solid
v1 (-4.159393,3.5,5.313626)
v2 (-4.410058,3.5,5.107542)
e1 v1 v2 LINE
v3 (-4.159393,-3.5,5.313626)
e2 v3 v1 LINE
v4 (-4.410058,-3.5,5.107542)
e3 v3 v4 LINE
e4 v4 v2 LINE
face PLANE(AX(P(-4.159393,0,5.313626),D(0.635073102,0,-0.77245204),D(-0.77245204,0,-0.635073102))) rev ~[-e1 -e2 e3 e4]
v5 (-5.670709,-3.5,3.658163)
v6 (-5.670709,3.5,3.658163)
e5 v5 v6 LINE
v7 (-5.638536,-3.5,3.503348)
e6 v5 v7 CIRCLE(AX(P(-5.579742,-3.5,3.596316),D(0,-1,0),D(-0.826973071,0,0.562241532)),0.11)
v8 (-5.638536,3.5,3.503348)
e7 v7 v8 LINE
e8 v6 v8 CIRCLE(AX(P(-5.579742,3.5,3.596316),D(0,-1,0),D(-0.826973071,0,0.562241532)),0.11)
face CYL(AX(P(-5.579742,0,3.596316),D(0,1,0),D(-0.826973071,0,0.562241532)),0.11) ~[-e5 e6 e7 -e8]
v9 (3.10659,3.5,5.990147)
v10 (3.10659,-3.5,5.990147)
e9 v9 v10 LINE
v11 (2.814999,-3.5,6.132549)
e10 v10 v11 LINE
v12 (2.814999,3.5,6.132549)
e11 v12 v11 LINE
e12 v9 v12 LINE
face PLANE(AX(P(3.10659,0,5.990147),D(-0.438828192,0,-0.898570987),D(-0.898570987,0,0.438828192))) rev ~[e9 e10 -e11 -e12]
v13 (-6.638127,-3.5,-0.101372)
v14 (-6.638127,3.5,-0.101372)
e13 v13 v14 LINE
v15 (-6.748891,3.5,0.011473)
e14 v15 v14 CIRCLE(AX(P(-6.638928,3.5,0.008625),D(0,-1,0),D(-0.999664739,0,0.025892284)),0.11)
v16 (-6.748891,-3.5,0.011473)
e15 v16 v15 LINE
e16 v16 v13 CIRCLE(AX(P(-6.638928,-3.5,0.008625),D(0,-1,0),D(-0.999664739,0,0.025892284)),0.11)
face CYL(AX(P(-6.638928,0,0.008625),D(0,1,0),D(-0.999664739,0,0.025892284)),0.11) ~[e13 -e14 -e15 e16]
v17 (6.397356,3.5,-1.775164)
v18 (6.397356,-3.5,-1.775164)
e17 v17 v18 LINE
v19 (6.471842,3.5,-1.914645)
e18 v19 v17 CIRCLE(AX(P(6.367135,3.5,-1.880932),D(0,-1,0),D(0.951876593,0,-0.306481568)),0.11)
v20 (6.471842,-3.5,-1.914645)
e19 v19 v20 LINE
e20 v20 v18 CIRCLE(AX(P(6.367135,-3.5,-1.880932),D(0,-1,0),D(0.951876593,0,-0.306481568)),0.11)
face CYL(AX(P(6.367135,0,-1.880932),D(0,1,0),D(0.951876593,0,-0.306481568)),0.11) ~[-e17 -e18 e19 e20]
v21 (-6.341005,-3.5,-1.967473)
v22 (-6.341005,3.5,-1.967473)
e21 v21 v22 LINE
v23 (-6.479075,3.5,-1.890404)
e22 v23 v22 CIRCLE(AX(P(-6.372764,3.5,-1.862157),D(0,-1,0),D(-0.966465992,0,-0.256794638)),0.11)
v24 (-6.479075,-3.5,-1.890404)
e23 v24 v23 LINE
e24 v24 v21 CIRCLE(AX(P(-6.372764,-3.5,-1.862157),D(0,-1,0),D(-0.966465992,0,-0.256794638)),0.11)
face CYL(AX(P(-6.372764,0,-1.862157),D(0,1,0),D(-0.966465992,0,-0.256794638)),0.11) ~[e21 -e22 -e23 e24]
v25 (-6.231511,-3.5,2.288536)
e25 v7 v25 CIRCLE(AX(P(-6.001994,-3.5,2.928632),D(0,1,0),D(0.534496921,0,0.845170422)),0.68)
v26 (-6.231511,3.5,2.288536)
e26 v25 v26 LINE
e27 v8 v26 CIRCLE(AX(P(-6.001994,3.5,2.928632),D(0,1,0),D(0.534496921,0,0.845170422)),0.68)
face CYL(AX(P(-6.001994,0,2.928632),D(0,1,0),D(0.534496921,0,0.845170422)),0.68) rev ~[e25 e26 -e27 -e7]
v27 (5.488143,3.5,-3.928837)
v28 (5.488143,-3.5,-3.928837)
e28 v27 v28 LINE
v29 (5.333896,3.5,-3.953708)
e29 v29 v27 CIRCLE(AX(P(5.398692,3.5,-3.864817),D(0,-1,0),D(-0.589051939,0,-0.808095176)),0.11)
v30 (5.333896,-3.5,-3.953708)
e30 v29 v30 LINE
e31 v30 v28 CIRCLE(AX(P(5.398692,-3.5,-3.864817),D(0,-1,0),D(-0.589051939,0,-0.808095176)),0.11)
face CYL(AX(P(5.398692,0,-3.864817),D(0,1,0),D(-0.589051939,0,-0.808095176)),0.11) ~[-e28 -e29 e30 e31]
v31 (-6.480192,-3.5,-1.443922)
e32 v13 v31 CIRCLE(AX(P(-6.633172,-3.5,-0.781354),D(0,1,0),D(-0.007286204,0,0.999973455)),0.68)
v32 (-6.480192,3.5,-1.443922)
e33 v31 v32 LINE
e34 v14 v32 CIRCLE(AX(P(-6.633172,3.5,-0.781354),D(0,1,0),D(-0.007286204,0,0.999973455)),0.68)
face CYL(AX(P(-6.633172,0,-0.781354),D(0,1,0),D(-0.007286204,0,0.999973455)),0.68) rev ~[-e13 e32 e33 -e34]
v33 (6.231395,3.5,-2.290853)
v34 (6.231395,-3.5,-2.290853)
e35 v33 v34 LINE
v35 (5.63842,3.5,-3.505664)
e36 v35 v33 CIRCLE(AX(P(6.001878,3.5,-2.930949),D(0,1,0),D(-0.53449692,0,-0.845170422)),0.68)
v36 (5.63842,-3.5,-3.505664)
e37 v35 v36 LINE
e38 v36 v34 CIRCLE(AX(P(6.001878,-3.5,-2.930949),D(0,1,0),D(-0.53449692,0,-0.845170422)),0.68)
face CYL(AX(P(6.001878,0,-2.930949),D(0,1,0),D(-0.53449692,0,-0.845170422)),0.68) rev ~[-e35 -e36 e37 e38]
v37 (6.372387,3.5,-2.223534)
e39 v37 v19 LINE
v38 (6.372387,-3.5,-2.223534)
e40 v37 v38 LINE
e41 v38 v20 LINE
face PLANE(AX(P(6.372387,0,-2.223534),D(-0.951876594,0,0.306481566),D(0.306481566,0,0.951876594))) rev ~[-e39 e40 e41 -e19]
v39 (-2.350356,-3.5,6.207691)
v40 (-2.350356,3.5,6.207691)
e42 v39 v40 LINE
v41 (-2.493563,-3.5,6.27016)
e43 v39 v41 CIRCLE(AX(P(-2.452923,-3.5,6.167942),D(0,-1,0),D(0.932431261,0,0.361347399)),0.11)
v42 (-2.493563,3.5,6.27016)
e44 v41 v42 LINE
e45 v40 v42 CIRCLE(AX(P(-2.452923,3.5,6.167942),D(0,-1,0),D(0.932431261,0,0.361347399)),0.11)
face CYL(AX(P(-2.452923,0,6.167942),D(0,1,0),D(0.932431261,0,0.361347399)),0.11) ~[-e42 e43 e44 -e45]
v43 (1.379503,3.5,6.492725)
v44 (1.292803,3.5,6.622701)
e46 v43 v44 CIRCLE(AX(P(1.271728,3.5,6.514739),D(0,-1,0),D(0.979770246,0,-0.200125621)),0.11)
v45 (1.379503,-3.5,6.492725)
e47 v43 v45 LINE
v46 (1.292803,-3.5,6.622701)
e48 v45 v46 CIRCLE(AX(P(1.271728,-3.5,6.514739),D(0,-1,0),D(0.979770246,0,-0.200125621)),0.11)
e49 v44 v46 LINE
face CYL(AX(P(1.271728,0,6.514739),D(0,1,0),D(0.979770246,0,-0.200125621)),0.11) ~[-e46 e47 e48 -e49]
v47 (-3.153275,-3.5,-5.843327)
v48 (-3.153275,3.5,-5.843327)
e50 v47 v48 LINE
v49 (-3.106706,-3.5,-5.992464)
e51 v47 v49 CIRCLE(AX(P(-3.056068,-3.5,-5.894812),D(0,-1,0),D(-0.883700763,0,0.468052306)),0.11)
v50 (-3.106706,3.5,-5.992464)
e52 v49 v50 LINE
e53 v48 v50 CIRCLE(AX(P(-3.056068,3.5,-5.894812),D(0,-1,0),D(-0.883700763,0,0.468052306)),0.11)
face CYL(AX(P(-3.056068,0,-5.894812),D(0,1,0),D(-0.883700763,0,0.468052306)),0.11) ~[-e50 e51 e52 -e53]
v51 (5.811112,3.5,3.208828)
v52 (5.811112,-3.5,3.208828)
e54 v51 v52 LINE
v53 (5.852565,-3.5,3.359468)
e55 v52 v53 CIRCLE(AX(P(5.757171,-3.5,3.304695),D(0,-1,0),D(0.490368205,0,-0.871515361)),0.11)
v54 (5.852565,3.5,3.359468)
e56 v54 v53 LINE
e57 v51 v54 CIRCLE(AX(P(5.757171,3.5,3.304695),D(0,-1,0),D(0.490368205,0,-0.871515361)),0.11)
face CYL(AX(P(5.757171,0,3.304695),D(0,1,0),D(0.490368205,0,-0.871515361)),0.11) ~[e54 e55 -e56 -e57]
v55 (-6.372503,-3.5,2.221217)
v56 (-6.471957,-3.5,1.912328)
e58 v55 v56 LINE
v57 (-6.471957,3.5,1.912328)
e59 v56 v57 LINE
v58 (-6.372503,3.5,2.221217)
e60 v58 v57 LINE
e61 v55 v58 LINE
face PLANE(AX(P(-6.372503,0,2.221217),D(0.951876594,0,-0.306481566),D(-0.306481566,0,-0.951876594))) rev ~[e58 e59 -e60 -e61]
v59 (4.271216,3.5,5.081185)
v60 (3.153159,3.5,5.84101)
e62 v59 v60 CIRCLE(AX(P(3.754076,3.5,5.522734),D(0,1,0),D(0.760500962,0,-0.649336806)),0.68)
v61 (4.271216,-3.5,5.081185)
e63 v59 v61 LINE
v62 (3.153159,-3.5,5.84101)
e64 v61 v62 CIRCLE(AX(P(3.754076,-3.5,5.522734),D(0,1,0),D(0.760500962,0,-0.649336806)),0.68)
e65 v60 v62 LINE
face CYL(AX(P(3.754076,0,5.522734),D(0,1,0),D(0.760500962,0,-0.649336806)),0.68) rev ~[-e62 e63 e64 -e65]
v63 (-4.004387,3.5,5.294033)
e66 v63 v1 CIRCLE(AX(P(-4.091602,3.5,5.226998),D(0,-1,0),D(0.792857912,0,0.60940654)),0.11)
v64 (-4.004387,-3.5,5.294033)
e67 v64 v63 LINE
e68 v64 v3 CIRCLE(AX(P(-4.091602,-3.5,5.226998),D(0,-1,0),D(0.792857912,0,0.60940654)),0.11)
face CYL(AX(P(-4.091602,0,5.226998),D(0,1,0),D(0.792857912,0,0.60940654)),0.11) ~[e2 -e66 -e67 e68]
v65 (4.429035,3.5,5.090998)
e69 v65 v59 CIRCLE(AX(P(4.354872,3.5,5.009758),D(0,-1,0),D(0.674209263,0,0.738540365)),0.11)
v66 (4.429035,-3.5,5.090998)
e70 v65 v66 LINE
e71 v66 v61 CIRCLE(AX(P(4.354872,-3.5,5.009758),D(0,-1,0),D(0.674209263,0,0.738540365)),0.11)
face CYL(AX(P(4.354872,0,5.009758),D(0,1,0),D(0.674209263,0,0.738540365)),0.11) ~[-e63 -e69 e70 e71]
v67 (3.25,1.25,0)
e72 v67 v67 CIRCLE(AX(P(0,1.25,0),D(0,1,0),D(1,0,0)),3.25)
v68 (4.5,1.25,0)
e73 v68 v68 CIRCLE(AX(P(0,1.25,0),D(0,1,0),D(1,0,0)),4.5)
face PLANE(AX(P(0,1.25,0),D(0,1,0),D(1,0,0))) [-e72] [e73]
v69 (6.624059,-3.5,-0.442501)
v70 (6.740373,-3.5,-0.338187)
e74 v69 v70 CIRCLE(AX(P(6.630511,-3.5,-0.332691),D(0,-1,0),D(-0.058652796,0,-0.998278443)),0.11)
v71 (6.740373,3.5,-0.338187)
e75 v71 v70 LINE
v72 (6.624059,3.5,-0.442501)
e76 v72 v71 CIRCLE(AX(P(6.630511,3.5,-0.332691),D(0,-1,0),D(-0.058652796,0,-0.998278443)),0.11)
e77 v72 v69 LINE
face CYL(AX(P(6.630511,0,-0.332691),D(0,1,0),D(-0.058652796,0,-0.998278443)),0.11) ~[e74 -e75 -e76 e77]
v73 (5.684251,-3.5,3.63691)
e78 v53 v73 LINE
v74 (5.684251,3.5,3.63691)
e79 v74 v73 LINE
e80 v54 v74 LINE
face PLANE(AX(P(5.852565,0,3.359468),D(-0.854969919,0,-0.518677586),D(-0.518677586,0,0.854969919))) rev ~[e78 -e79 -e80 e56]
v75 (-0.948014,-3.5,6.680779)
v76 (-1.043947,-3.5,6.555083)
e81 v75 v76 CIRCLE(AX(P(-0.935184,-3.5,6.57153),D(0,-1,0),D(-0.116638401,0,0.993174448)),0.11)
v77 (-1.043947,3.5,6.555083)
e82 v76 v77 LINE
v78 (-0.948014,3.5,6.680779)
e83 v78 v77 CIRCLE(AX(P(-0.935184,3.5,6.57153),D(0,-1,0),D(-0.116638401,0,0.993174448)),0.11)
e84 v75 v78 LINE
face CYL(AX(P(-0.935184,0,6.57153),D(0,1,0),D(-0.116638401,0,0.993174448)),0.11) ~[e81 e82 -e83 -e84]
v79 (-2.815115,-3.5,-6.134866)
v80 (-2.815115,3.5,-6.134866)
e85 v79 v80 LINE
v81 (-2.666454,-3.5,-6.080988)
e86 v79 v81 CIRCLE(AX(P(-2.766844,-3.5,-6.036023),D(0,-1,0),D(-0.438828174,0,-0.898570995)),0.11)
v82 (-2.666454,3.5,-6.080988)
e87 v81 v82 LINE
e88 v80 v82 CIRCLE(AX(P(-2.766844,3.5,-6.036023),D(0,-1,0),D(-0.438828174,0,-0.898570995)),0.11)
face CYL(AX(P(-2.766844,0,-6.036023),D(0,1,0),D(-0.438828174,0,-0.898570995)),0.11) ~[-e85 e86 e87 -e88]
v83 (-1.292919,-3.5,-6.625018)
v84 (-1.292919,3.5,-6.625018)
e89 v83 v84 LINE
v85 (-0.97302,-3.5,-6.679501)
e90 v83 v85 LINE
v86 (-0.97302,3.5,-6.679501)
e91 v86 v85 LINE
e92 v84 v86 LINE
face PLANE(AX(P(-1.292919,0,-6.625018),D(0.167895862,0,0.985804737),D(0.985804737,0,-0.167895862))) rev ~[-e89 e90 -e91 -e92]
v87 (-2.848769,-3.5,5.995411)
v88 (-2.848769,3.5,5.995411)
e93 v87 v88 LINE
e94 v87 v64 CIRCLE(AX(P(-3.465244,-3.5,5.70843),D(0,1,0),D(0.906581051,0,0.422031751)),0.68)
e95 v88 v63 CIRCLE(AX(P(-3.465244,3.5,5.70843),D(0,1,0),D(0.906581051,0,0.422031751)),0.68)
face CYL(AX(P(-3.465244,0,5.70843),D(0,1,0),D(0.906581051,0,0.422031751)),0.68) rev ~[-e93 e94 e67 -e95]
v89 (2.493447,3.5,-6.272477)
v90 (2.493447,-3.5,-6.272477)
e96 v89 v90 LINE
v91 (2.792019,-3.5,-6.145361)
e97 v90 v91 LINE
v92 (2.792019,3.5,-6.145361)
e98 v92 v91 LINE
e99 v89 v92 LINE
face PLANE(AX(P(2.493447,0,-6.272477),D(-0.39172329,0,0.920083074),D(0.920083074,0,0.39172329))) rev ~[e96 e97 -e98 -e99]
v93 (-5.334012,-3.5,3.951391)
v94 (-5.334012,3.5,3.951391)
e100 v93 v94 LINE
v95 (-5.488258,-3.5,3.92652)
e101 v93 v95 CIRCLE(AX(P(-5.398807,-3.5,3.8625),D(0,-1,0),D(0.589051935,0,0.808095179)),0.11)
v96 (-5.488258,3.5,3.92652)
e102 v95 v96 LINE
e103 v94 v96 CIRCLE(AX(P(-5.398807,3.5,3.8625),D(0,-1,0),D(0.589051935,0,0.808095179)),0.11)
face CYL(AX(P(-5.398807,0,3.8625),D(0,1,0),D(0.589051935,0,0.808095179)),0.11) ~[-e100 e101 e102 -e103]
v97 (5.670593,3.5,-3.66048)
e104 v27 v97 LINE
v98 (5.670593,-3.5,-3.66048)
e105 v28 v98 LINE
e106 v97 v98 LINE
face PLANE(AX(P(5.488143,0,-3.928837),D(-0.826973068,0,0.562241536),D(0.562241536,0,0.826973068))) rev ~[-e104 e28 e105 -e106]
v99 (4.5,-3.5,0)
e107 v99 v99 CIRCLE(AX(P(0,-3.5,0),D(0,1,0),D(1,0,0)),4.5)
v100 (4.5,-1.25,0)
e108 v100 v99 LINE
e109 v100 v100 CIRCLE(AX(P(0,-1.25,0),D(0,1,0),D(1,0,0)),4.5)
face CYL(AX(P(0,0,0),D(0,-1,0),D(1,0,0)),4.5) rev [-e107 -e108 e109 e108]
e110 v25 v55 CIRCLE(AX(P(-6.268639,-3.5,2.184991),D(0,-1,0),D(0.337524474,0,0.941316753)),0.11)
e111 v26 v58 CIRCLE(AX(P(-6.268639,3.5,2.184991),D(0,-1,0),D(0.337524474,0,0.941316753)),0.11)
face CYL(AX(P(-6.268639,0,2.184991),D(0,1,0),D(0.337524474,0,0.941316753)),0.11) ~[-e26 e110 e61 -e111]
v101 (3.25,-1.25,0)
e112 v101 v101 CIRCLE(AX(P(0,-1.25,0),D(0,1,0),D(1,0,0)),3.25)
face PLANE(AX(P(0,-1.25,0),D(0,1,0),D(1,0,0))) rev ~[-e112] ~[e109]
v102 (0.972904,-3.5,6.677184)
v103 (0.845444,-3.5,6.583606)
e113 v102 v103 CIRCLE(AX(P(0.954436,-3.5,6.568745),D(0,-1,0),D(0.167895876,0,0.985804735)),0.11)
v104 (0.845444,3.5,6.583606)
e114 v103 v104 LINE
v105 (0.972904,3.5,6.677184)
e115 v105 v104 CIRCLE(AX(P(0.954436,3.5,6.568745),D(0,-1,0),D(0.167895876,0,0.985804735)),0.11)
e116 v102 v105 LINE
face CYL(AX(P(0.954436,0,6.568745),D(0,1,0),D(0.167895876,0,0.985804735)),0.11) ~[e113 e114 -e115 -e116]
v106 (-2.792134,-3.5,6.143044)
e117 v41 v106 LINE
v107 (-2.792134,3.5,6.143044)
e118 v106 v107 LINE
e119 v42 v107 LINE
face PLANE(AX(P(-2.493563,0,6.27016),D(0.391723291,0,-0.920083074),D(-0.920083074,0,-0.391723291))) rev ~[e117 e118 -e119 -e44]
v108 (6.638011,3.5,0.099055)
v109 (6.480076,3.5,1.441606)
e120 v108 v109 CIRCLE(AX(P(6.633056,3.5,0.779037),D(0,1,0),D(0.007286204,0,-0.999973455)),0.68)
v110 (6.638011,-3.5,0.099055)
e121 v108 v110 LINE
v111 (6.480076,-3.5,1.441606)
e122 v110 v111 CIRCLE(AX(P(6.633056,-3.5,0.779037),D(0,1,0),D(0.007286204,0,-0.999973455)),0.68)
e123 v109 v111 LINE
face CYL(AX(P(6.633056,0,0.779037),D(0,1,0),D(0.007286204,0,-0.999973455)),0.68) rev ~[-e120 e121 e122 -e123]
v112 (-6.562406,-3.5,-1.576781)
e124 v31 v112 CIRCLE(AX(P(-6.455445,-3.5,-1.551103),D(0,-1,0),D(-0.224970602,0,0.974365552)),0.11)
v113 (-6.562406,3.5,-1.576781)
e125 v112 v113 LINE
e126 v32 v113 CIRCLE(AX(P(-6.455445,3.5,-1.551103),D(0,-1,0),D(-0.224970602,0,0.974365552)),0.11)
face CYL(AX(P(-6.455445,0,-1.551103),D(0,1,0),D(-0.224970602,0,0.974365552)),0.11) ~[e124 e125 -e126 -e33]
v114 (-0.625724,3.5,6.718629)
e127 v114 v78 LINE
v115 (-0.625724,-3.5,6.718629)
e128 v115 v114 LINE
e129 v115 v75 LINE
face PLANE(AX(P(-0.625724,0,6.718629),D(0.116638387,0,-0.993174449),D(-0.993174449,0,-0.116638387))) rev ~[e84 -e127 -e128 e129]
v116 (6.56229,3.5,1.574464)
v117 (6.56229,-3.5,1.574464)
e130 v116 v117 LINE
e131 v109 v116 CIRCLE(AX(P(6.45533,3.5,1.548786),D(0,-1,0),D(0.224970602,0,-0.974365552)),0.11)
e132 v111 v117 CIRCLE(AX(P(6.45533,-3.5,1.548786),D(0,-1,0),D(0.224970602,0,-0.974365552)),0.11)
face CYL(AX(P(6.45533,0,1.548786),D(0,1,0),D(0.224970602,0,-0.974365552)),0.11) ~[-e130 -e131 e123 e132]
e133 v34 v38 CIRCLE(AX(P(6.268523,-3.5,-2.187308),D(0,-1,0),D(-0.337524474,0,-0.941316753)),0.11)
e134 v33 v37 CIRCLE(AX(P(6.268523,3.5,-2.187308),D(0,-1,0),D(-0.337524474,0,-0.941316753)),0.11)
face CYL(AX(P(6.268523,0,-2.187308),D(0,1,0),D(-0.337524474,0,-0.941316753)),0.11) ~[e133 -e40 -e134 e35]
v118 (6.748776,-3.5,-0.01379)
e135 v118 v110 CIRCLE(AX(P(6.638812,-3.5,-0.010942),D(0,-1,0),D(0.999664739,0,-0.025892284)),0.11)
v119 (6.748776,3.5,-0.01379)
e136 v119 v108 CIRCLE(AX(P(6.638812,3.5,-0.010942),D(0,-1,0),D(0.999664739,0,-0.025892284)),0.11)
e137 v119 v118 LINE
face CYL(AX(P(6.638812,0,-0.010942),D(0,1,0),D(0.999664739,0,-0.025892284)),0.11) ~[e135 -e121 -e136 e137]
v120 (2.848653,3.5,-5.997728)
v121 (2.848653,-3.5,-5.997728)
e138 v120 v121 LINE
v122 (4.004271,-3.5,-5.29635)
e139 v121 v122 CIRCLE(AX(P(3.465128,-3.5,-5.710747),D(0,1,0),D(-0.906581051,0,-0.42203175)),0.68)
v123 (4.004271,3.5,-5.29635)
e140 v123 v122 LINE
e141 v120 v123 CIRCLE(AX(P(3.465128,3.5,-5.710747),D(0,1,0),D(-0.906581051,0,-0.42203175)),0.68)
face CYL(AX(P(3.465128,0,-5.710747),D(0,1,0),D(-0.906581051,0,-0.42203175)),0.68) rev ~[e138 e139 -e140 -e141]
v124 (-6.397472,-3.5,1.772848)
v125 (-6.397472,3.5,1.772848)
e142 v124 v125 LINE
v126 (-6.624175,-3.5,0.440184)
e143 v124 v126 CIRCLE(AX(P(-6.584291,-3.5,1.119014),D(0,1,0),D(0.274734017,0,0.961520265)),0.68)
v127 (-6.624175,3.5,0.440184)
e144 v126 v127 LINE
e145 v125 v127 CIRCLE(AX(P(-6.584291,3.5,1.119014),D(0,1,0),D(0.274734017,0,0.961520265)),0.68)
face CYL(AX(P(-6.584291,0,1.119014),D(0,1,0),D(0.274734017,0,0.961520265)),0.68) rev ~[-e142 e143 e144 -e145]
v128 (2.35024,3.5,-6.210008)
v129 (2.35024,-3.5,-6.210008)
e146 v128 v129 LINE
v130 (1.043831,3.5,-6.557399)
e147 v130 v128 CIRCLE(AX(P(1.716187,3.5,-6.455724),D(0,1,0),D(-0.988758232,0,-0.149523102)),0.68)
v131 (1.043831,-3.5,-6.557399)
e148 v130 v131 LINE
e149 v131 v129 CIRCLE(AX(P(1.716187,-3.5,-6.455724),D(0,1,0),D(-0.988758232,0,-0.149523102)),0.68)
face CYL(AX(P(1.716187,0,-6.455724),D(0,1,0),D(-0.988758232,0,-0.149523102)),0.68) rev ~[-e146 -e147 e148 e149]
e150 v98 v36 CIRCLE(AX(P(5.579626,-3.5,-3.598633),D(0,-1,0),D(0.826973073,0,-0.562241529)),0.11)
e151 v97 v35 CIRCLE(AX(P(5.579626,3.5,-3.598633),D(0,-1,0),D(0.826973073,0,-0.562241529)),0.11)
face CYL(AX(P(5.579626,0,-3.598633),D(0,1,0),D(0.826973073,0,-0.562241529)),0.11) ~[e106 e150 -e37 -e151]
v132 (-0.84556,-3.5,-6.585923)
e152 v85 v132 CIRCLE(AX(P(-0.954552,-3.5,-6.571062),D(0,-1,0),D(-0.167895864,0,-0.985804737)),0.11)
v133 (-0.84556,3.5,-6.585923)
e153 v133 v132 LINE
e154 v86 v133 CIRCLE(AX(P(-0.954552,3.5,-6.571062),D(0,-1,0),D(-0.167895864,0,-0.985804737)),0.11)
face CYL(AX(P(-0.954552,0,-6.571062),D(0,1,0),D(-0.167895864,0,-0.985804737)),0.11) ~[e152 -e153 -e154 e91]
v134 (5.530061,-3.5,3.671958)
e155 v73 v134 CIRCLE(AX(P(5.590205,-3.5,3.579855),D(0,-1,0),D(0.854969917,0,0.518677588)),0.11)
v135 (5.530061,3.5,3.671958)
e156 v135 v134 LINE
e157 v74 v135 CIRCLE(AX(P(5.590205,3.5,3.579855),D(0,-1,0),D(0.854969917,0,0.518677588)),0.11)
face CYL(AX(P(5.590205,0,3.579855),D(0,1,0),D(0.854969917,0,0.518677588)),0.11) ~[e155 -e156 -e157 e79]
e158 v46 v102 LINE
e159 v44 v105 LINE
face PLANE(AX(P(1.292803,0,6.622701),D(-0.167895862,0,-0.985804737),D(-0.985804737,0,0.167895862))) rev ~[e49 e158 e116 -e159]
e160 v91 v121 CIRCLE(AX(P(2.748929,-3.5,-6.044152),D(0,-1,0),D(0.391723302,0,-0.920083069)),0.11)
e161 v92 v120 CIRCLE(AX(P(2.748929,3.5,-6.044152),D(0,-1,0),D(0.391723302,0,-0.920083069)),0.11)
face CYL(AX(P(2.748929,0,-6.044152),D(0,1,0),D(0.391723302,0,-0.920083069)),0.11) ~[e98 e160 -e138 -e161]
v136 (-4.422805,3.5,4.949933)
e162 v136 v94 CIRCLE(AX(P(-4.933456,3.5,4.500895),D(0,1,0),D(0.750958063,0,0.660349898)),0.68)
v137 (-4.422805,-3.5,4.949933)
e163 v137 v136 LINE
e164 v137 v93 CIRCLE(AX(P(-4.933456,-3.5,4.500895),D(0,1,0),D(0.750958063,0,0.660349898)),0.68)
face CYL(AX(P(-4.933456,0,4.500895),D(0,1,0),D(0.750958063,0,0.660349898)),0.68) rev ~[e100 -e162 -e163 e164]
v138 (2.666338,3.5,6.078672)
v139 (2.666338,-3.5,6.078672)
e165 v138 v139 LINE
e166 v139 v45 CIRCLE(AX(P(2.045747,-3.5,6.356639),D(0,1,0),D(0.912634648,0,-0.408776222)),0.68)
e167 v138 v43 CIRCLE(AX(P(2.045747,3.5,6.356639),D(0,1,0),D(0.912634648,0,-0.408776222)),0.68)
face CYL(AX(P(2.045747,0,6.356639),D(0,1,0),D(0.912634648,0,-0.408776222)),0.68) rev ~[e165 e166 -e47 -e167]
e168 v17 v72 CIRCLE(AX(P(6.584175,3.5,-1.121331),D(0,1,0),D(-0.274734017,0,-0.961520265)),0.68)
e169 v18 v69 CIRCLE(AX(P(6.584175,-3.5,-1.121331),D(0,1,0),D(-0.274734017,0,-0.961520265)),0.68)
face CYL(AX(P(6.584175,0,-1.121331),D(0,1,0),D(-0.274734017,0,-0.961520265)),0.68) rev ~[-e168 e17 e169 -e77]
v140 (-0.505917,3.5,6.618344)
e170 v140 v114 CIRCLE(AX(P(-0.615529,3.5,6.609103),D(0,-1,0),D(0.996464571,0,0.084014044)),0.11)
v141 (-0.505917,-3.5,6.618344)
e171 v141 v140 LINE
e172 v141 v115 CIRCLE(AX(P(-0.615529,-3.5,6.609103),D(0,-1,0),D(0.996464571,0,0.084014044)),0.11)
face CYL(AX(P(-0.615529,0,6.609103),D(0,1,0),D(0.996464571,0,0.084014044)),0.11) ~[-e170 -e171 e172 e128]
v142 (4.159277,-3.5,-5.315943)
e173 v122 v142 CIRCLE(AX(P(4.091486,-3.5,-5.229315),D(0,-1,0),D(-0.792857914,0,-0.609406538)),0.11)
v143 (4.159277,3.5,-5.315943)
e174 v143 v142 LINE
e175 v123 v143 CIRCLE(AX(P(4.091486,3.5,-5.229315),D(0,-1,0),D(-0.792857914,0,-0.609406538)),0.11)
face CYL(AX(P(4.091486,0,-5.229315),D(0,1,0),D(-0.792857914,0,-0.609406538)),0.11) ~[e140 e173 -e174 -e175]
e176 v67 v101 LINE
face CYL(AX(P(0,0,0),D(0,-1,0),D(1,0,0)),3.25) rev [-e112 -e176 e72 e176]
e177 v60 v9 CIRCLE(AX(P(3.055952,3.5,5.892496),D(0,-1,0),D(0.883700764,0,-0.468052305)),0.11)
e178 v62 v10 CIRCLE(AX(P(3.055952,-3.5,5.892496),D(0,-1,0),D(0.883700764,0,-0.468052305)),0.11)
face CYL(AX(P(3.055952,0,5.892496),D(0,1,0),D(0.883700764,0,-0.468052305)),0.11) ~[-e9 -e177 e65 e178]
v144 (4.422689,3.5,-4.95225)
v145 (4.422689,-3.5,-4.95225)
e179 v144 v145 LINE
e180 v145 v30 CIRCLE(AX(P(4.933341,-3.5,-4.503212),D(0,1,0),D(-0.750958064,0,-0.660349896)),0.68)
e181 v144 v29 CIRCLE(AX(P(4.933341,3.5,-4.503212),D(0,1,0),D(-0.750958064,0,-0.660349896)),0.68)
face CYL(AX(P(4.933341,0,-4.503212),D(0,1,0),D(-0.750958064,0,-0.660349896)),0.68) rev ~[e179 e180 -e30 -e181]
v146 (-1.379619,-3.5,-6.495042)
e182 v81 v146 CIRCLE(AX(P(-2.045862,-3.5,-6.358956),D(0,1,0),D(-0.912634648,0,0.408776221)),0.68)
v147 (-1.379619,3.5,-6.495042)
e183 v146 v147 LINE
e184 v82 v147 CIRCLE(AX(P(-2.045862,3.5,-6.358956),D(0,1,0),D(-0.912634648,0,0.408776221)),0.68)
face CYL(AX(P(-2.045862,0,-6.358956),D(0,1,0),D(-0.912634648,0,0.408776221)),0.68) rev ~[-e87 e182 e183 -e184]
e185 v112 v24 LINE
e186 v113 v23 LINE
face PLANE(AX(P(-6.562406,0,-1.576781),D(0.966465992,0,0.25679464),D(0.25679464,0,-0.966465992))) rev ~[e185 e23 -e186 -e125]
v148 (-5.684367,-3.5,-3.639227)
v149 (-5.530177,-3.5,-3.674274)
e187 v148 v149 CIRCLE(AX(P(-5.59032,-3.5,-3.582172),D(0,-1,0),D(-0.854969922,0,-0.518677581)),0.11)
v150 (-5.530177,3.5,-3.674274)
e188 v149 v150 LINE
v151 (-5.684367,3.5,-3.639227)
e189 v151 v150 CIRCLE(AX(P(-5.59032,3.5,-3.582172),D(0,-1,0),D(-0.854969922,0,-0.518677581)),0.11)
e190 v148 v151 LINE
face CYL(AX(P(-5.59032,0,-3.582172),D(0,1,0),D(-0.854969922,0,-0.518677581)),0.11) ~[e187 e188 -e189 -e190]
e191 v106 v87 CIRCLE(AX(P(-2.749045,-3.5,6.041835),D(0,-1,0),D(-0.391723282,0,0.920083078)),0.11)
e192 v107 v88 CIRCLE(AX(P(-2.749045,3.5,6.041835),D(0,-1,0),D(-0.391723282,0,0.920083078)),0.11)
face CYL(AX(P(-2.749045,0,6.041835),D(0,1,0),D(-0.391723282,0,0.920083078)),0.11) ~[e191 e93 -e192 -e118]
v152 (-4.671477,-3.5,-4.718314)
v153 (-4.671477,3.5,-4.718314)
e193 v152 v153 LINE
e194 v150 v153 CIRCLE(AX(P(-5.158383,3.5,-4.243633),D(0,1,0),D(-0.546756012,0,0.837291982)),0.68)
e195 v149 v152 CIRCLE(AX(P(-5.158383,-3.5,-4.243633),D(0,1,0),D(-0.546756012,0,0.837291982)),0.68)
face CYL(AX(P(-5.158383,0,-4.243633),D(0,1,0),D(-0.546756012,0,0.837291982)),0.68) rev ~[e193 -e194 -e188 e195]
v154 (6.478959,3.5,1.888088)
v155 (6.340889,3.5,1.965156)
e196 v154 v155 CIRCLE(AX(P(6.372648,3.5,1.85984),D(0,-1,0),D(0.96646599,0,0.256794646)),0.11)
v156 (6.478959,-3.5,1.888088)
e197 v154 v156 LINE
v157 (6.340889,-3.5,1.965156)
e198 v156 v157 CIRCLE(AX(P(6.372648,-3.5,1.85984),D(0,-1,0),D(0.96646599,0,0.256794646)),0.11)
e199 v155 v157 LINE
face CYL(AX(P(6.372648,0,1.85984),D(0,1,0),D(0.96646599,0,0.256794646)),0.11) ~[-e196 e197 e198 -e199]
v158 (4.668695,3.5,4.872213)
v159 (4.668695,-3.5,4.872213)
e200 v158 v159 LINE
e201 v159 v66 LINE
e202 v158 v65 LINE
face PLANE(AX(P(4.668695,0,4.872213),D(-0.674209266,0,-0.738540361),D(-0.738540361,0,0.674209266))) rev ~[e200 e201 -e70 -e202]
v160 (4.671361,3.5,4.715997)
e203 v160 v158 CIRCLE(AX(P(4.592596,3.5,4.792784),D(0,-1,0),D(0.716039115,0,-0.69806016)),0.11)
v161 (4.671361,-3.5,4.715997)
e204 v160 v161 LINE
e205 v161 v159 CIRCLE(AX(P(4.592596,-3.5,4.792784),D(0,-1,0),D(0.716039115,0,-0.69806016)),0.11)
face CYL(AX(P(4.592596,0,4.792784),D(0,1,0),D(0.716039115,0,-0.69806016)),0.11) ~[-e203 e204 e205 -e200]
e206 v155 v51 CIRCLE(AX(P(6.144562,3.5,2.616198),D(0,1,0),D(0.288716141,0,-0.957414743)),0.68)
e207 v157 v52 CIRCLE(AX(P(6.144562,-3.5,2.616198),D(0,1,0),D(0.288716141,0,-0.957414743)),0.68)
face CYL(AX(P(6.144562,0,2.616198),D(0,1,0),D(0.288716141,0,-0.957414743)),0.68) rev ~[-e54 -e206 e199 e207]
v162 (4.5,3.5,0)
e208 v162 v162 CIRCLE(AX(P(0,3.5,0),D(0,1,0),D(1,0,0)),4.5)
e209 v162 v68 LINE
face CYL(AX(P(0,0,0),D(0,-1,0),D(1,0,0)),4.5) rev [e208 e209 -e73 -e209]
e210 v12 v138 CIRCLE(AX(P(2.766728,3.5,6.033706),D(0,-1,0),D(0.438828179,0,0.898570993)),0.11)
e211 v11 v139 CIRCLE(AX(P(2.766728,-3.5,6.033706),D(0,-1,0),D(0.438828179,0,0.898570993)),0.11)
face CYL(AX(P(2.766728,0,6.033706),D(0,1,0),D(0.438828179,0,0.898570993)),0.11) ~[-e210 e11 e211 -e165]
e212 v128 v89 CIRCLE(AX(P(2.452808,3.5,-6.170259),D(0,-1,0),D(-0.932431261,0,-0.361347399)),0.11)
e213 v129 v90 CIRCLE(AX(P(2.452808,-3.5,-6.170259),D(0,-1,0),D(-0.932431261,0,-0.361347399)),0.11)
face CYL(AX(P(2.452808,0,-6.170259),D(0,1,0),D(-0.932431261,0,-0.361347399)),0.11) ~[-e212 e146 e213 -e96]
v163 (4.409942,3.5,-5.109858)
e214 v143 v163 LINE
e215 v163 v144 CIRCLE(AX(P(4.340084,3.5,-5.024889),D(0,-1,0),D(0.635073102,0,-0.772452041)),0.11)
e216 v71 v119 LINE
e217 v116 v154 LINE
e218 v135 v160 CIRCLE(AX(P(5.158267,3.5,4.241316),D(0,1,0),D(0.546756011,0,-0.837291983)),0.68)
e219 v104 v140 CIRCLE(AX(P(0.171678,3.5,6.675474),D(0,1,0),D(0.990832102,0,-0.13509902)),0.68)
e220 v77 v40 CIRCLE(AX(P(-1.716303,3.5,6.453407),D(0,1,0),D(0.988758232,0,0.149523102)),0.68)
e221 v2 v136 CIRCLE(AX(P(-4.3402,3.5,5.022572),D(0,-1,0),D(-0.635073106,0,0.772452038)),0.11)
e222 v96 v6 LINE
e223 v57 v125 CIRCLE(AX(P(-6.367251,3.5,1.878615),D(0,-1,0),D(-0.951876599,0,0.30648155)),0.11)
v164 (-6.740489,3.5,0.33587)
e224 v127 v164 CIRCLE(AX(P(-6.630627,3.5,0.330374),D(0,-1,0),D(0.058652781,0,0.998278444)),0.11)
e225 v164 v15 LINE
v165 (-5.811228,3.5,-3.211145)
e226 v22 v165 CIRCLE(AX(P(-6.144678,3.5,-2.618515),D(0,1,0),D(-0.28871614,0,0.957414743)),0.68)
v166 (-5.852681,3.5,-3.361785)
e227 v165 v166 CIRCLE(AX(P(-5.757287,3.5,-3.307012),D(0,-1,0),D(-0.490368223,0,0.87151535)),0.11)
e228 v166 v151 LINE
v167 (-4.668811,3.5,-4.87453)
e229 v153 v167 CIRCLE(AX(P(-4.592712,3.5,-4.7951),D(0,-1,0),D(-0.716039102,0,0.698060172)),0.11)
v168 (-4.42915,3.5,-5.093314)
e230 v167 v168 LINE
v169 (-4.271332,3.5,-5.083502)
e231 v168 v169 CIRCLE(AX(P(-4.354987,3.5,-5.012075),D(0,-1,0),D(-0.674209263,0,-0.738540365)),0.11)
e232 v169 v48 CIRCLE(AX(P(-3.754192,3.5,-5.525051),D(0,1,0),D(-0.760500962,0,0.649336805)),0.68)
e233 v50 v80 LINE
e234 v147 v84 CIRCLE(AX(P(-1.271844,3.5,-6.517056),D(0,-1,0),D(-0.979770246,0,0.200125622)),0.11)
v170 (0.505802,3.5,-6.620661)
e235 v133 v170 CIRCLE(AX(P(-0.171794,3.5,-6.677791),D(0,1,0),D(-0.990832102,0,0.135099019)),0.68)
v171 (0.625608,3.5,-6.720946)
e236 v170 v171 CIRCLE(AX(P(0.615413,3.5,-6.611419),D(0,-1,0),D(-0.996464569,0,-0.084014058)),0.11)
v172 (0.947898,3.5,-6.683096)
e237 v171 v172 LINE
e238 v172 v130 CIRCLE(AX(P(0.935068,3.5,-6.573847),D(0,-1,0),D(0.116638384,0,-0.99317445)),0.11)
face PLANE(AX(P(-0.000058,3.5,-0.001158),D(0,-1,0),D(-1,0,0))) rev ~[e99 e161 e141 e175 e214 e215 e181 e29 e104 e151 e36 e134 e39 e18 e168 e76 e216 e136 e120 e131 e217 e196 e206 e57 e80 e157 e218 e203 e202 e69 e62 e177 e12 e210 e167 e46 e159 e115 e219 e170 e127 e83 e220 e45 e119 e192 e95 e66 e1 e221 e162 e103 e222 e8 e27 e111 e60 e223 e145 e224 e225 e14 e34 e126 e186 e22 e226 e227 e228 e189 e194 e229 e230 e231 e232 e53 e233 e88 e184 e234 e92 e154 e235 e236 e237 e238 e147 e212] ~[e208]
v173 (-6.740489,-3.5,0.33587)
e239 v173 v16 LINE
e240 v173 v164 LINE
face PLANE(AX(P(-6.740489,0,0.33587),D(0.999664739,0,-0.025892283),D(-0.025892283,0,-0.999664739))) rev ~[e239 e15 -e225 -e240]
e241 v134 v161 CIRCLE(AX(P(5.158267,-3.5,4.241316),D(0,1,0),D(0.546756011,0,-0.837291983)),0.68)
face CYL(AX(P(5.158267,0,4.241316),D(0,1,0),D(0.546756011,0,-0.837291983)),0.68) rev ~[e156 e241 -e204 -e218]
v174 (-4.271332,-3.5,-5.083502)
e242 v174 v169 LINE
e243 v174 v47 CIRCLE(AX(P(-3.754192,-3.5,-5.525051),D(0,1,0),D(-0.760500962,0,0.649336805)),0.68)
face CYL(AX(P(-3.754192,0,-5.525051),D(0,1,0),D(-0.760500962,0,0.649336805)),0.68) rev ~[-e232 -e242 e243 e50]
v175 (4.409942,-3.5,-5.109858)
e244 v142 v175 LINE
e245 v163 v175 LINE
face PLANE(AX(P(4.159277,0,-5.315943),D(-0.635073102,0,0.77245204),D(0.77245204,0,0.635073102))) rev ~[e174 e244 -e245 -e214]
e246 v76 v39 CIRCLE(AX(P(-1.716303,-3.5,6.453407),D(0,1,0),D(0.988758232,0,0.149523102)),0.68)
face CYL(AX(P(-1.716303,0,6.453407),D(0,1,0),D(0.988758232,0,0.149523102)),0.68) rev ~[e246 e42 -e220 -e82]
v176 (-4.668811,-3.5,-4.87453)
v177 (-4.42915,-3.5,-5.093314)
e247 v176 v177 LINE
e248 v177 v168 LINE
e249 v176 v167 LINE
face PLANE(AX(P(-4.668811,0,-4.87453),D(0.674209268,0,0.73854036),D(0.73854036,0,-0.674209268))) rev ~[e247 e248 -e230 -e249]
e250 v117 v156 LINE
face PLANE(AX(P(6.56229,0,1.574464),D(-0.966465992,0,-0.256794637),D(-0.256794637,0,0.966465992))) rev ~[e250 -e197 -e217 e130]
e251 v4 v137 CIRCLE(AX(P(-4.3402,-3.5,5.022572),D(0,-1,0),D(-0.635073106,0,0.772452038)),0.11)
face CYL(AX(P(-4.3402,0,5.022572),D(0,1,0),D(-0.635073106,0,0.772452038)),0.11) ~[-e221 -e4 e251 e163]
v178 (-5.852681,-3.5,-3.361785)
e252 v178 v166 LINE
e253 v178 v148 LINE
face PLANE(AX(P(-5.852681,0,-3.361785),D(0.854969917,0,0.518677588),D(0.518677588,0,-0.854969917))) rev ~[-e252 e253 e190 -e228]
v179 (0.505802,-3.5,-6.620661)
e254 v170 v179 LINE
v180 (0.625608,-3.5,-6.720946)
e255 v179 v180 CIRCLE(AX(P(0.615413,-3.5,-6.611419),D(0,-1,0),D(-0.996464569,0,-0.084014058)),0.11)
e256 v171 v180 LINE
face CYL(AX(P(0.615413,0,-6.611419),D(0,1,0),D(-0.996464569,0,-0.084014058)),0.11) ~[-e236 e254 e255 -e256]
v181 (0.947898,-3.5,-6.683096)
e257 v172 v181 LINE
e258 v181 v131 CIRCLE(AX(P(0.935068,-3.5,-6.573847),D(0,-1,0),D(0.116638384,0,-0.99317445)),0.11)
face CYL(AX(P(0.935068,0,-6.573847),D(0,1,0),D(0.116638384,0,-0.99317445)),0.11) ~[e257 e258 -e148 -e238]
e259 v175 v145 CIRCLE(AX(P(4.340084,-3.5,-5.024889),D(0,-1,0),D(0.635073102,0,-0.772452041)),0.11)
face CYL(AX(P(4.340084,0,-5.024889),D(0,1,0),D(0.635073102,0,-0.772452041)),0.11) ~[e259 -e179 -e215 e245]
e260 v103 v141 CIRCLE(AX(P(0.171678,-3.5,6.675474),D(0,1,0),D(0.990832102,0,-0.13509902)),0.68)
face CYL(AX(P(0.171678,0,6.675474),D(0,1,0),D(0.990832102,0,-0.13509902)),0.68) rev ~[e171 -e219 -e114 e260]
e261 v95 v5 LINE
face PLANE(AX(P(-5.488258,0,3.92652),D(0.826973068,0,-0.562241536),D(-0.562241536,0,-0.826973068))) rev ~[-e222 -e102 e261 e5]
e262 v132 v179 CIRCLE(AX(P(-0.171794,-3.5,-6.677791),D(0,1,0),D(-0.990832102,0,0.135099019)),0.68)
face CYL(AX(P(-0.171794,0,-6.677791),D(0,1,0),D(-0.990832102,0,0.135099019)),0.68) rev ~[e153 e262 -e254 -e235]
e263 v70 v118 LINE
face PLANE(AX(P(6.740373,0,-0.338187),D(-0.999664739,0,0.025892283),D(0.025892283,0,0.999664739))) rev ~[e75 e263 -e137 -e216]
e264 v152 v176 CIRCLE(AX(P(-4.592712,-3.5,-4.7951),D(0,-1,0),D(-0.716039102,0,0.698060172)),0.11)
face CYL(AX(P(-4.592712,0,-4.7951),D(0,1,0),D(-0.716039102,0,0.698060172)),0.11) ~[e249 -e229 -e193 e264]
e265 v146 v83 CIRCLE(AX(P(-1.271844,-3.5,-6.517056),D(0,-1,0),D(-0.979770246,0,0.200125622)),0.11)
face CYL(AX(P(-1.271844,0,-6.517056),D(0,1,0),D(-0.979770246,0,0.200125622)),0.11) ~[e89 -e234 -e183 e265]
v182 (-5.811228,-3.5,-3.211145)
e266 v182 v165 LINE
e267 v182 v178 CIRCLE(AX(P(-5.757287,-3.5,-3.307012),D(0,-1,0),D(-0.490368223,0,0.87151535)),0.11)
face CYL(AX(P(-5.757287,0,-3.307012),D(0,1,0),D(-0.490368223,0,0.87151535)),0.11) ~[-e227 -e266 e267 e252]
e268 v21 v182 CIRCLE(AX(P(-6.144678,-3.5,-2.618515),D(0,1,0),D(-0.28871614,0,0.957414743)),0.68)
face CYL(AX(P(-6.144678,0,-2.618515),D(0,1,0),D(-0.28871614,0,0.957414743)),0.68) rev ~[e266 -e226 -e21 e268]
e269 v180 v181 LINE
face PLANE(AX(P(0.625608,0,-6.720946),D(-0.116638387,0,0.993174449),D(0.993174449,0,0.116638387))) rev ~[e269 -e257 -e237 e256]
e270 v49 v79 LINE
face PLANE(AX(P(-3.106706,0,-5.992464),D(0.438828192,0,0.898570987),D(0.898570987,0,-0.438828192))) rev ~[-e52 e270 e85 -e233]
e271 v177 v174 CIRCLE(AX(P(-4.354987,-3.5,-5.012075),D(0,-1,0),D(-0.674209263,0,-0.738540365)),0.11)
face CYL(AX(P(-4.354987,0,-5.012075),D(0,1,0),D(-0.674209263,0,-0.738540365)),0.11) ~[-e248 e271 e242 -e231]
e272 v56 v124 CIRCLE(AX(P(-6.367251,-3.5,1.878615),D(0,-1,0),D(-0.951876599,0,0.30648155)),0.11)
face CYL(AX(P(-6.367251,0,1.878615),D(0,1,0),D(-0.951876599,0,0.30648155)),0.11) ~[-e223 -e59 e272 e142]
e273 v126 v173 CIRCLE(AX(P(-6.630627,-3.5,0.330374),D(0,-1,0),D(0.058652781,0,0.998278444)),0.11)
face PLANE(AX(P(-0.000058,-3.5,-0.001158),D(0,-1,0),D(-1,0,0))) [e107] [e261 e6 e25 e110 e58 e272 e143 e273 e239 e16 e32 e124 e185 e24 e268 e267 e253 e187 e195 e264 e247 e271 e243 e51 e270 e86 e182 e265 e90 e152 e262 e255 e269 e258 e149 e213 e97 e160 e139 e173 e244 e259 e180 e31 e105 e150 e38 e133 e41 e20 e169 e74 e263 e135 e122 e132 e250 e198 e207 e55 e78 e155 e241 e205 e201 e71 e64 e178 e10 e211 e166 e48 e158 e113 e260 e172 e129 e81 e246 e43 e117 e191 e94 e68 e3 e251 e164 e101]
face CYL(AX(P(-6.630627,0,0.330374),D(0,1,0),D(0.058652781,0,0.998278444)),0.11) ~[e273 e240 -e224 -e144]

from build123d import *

# Parameters (mm, degrees)
SKETCH2_R           = 4.5
BOSS_EXTRUDE1_DEPTH = 3.5
SKETCH2_3_R         = 4.5
SKETCH2_3_R_2       = 3.25
BOSS_EXTRUDE2_DEPTH = 1.25


with BuildPart() as part:
    # Sketch2 → Boss-Extrude1 (new, symmetric)
    with BuildSketch(Plane(origin=(0, 0, 0), x_dir=(1, 0, 0), z_dir=(0, 1, 0))):
        with BuildLine():
            Line((-0.973020228, 6.679500852), (-1.292919007, 6.625017769))
            ThreePointArc((-1.292919007, 6.625017769), (-1.363353555, 6.578096432), (-1.379618663, 6.495041729))
            ThreePointArc((-1.379618663, 6.495041729), (-1.837581239, 5.71163958), (-2.666453991, 6.080988477))
            ThreePointArc((-2.666453991, 6.080988477), (-2.729363352, 6.139440769), (-2.815114904, 6.134865902))
            Line((-2.815114904, 6.134865902), (-3.106705876, 5.992463865))
            ThreePointArc((-3.106705876, 5.992463865), (-3.161068061, 5.927599467), (-3.153275104, 5.843326652))
            ThreePointArc((-3.153275104, 5.843326652), (-3.371977088, 4.962634828), (-4.271332279, 5.083502059))
            ThreePointArc((-4.271332279, 5.083502059), (-4.348161282, 5.121863008), (-4.429150404, 5.093314451))
            Line((-4.429150404, 5.093314451), (-4.668810603, 4.874530027))
            ThreePointArc((-4.668810603, 4.874530027), (-4.702696325, 4.796977495), (-4.671476642, 4.718313851))
            ThreePointArc((-4.671476642, 4.718313851), (-4.633200099, 3.811680765), (-5.53017732, 3.674274387))
            ThreePointArc((-5.53017732, 3.674274387), (-5.614701737, 3.689436216), (-5.684367172, 3.639226803))
            Line((-5.684367172, 3.639226803), (-5.852680755, 3.361784605))
            ThreePointArc((-5.852680755, 3.361784605), (-5.863344793, 3.277826785), (-5.811227618, 3.211145173))
            ThreePointArc((-5.811227618, 3.211145173), (-5.519073486, 2.352020845), (-6.341004977, 1.967472704))
            ThreePointArc((-6.341004977, 1.967472704), (-6.426377141, 1.958207093), (-6.479075011, 1.890404493))
            Line((-6.479075011, 1.890404493), (-6.562406211, 1.576781238))
            ThreePointArc((-6.562406211, 1.576781238), (-6.54898463, 1.493219892), (-6.480192185, 1.443922459))
            ThreePointArc((-6.480192185, 1.443922459), (-5.957829055, 0.701908033), (-6.638126814, 0.101371934))
            ThreePointArc((-6.638126814, 0.101371934), (-6.717430382, 0.068429527), (-6.748891418, -0.011473297))
            Line((-6.748891418, -0.011473297), (-6.740489237, -0.335869719))
            ThreePointArc((-6.740489237, -0.335869719), (-6.704069372, -0.412264947), (-6.624174813, -0.440184416))
            ThreePointArc((-6.624174813, -0.440184416), (-5.913921439, -1.004975343), (-6.397471788, -1.772847538))
            ThreePointArc((-6.397471788, -1.772847538), (-6.464282055, -1.826797943), (-6.471957472, -1.912327739))
            Line((-6.471957472, -1.912327739), (-6.372502605, -2.221216659))
            ThreePointArc((-6.372502605, -2.221216659), (-6.316034978, -2.284256682), (-6.231510886, -2.288536318))
            ThreePointArc((-6.231510886, -2.288536318), (-5.390907771, -2.630347745), (-5.638536337, -3.503347597))
            ThreePointArc((-5.638536337, -3.503347597), (-5.687440734, -3.573935259), (-5.670708714, -3.658162912))
            Line((-5.670708714, -3.658162912), (-5.488258403, -3.926519986))
            ThreePointArc((-5.488258403, -3.926519986), (-5.416317684, -3.971097676), (-5.334011699, -3.951390768))
            ThreePointArc((-5.334011699, -3.951390768), (-4.43115951, -4.042531166), (-4.422804899, -4.949933419))
            ThreePointArc((-4.422804899, -4.949933419), (-4.449841481, -5.031439745), (-4.410057553, -5.107541632))
            Line((-4.410057553, -5.107541632), (-4.159392837, -5.313626166))
            ThreePointArc((-4.159392837, -5.313626166), (-4.077807237, -5.336130104), (-4.0043873, -5.294033189))
            ThreePointArc((-4.0043873, -5.294033189), (-3.112429751, -5.127118905), (-2.848768804, -5.995411224))
            ThreePointArc((-2.848768804, -5.995411224), (-2.851747229, -6.081233058), (-2.79213445, -6.143043855))
            Line((-2.79213445, -6.143043855), (-2.493562694, -6.270160106))
            ThreePointArc((-2.493562694, -6.270160106), (-2.408941792, -6.268767157), (-2.35035595, -6.207690676))
            ThreePointArc((-2.35035595, -6.207690676), (-1.541554137, -5.796244112), (-1.043947095, -6.555082619))
            ThreePointArc((-1.043947095, -6.555082619), (-1.022626068, -6.638267184), (-0.948013912, -6.68077935))
            Line((-0.948013912, -6.68077935), (-0.625723623, -6.718629115))
            ThreePointArc((-0.625723623, -6.718629115), (-0.544922901, -6.693452127), (-0.505917431, -6.618344134))
            ThreePointArc((-0.505917431, -6.618344134), (0.154204334, -5.995698244), (0.845444307, -6.583606355))
            ThreePointArc((0.845444307, -6.583606355), (0.889337482, -6.657414534), (0.972904383, -6.677183984))
            Line((0.972904383, -6.677183984), (1.292803162, -6.622700901))
            ThreePointArc((1.292803162, -6.622700901), (1.363237709, -6.575779564), (1.379502817, -6.492724861))
            ThreePointArc((1.379502817, -6.492724861), (1.837465393, -5.709322713), (2.666338146, -6.078671609))
            ThreePointArc((2.666338146, -6.078671609), (2.729247506, -6.137123901), (2.814999058, -6.132549034))
            Line((2.814999058, -6.132549034), (3.10659003, -5.990146997))
            ThreePointArc((3.10659003, -5.990146997), (3.160952215, -5.925282599), (3.153159258, -5.841009785))
            ThreePointArc((3.153159258, -5.841009785), (3.371861242, -4.96031796), (4.271216433, -5.081185191))
            ThreePointArc((4.271216433, -5.081185191), (4.348045436, -5.11954614), (4.429034558, -5.090997583))
            Line((4.429034558, -5.090997583), (4.668694758, -4.872213159))
            ThreePointArc((4.668694758, -4.872213159), (4.702580479, -4.794660627), (4.671360797, -4.715996984))
            ThreePointArc((4.671360797, -4.715996984), (4.633084254, -3.809363897), (5.530061474, -3.671957519))
            ThreePointArc((5.530061474, -3.671957519), (5.614585891, -3.687119348), (5.684251327, -3.636909935))
            Line((5.684251327, -3.636909935), (5.852564909, -3.359467737))
            ThreePointArc((5.852564909, -3.359467737), (5.863228948, -3.275509917), (5.811111772, -3.208828305))
            ThreePointArc((5.811111772, -3.208828305), (5.51895764, -2.349703977), (6.340889131, -1.965155837))
            ThreePointArc((6.340889131, -1.965155837), (6.426261296, -1.955890225), (6.478959166, -1.888087625))
            Line((6.478959166, -1.888087625), (6.562290365, -1.57446437))
            ThreePointArc((6.562290365, -1.57446437), (6.548868784, -1.490903024), (6.480076339, -1.441605591))
            ThreePointArc((6.480076339, -1.441605591), (5.957713209, -0.699591165), (6.638010968, -0.099055066))
            ThreePointArc((6.638010968, -0.099055066), (6.717314536, -0.066112659), (6.748775572, 0.013790165))
            Line((6.748775572, 0.013790165), (6.740373391, 0.338186587))
            ThreePointArc((6.740373391, 0.338186587), (6.703953527, 0.414581815), (6.624058967, 0.442501284))
            ThreePointArc((6.624058967, 0.442501284), (5.913805593, 1.007292211), (6.397355942, 1.775164406))
            ThreePointArc((6.397355942, 1.775164406), (6.46416621, 1.829114811), (6.471841626, 1.914644607))
            Line((6.471841626, 1.914644607), (6.372386759, 2.223533527))
            ThreePointArc((6.372386759, 2.223533527), (6.315919132, 2.28657355), (6.23139504, 2.290853186))
            ThreePointArc((6.23139504, 2.290853186), (5.390791926, 2.632664613), (5.638420492, 3.505664465))
            ThreePointArc((5.638420492, 3.505664465), (5.687324888, 3.576252127), (5.670592868, 3.66047978))
            Line((5.670592868, 3.66047978), (5.488142557, 3.928836854))
            ThreePointArc((5.488142557, 3.928836854), (5.416201839, 3.973414544), (5.333895854, 3.953707636))
            ThreePointArc((5.333895854, 3.953707636), (4.431043665, 4.044848034), (4.422689053, 4.952250287))
            ThreePointArc((4.422689053, 4.952250287), (4.449725636, 5.033756613), (4.409941708, 5.1098585))
            Line((4.409941708, 5.1098585), (4.159276992, 5.315943034))
            ThreePointArc((4.159276992, 5.315943034), (4.077691391, 5.338446972), (4.004271455, 5.296350057))
            ThreePointArc((4.004271455, 5.296350057), (3.112313906, 5.129435773), (2.848652958, 5.997728092))
            ThreePointArc((2.848652958, 5.997728092), (2.851631383, 6.083549925), (2.792018605, 6.145360723))
            Line((2.792018605, 6.145360723), (2.493446848, 6.272476974))
            ThreePointArc((2.493446848, 6.272476974), (2.408825946, 6.271084025), (2.350240104, 6.210007544))
            ThreePointArc((2.350240104, 6.210007544), (1.541438291, 5.79856098), (1.043831249, 6.557399487))
            ThreePointArc((1.043831249, 6.557399487), (1.022510223, 6.640584052), (0.947898066, 6.683096218))
            Line((0.947898066, 6.683096218), (0.625607777, 6.720945983))
            ThreePointArc((0.625607777, 6.720945983), (0.544807056, 6.695768995), (0.505801585, 6.620661002))
            ThreePointArc((0.505801585, 6.620661002), (-0.154320179, 5.998015112), (-0.845560152, 6.585923223))
            ThreePointArc((-0.845560152, 6.585923223), (-0.889453328, 6.659731402), (-0.973020228, 6.679500852))
        make_face()
        Circle(SKETCH2_R, mode=Mode.SUBTRACT)
    extrude(amount=BOSS_EXTRUDE1_DEPTH, both=True)

    # Sketch2<3> → Boss-Extrude2 (add, symmetric)
    with BuildSketch(Plane(origin=(0, 0, 0), x_dir=(1, 0, 0), z_dir=(0, 1, 0))):
        Circle(SKETCH2_3_R)
        Circle(SKETCH2_3_R_2, mode=Mode.SUBTRACT)
    extrude(amount=BOSS_EXTRUDE2_DEPTH, both=True)


solid = part.part
